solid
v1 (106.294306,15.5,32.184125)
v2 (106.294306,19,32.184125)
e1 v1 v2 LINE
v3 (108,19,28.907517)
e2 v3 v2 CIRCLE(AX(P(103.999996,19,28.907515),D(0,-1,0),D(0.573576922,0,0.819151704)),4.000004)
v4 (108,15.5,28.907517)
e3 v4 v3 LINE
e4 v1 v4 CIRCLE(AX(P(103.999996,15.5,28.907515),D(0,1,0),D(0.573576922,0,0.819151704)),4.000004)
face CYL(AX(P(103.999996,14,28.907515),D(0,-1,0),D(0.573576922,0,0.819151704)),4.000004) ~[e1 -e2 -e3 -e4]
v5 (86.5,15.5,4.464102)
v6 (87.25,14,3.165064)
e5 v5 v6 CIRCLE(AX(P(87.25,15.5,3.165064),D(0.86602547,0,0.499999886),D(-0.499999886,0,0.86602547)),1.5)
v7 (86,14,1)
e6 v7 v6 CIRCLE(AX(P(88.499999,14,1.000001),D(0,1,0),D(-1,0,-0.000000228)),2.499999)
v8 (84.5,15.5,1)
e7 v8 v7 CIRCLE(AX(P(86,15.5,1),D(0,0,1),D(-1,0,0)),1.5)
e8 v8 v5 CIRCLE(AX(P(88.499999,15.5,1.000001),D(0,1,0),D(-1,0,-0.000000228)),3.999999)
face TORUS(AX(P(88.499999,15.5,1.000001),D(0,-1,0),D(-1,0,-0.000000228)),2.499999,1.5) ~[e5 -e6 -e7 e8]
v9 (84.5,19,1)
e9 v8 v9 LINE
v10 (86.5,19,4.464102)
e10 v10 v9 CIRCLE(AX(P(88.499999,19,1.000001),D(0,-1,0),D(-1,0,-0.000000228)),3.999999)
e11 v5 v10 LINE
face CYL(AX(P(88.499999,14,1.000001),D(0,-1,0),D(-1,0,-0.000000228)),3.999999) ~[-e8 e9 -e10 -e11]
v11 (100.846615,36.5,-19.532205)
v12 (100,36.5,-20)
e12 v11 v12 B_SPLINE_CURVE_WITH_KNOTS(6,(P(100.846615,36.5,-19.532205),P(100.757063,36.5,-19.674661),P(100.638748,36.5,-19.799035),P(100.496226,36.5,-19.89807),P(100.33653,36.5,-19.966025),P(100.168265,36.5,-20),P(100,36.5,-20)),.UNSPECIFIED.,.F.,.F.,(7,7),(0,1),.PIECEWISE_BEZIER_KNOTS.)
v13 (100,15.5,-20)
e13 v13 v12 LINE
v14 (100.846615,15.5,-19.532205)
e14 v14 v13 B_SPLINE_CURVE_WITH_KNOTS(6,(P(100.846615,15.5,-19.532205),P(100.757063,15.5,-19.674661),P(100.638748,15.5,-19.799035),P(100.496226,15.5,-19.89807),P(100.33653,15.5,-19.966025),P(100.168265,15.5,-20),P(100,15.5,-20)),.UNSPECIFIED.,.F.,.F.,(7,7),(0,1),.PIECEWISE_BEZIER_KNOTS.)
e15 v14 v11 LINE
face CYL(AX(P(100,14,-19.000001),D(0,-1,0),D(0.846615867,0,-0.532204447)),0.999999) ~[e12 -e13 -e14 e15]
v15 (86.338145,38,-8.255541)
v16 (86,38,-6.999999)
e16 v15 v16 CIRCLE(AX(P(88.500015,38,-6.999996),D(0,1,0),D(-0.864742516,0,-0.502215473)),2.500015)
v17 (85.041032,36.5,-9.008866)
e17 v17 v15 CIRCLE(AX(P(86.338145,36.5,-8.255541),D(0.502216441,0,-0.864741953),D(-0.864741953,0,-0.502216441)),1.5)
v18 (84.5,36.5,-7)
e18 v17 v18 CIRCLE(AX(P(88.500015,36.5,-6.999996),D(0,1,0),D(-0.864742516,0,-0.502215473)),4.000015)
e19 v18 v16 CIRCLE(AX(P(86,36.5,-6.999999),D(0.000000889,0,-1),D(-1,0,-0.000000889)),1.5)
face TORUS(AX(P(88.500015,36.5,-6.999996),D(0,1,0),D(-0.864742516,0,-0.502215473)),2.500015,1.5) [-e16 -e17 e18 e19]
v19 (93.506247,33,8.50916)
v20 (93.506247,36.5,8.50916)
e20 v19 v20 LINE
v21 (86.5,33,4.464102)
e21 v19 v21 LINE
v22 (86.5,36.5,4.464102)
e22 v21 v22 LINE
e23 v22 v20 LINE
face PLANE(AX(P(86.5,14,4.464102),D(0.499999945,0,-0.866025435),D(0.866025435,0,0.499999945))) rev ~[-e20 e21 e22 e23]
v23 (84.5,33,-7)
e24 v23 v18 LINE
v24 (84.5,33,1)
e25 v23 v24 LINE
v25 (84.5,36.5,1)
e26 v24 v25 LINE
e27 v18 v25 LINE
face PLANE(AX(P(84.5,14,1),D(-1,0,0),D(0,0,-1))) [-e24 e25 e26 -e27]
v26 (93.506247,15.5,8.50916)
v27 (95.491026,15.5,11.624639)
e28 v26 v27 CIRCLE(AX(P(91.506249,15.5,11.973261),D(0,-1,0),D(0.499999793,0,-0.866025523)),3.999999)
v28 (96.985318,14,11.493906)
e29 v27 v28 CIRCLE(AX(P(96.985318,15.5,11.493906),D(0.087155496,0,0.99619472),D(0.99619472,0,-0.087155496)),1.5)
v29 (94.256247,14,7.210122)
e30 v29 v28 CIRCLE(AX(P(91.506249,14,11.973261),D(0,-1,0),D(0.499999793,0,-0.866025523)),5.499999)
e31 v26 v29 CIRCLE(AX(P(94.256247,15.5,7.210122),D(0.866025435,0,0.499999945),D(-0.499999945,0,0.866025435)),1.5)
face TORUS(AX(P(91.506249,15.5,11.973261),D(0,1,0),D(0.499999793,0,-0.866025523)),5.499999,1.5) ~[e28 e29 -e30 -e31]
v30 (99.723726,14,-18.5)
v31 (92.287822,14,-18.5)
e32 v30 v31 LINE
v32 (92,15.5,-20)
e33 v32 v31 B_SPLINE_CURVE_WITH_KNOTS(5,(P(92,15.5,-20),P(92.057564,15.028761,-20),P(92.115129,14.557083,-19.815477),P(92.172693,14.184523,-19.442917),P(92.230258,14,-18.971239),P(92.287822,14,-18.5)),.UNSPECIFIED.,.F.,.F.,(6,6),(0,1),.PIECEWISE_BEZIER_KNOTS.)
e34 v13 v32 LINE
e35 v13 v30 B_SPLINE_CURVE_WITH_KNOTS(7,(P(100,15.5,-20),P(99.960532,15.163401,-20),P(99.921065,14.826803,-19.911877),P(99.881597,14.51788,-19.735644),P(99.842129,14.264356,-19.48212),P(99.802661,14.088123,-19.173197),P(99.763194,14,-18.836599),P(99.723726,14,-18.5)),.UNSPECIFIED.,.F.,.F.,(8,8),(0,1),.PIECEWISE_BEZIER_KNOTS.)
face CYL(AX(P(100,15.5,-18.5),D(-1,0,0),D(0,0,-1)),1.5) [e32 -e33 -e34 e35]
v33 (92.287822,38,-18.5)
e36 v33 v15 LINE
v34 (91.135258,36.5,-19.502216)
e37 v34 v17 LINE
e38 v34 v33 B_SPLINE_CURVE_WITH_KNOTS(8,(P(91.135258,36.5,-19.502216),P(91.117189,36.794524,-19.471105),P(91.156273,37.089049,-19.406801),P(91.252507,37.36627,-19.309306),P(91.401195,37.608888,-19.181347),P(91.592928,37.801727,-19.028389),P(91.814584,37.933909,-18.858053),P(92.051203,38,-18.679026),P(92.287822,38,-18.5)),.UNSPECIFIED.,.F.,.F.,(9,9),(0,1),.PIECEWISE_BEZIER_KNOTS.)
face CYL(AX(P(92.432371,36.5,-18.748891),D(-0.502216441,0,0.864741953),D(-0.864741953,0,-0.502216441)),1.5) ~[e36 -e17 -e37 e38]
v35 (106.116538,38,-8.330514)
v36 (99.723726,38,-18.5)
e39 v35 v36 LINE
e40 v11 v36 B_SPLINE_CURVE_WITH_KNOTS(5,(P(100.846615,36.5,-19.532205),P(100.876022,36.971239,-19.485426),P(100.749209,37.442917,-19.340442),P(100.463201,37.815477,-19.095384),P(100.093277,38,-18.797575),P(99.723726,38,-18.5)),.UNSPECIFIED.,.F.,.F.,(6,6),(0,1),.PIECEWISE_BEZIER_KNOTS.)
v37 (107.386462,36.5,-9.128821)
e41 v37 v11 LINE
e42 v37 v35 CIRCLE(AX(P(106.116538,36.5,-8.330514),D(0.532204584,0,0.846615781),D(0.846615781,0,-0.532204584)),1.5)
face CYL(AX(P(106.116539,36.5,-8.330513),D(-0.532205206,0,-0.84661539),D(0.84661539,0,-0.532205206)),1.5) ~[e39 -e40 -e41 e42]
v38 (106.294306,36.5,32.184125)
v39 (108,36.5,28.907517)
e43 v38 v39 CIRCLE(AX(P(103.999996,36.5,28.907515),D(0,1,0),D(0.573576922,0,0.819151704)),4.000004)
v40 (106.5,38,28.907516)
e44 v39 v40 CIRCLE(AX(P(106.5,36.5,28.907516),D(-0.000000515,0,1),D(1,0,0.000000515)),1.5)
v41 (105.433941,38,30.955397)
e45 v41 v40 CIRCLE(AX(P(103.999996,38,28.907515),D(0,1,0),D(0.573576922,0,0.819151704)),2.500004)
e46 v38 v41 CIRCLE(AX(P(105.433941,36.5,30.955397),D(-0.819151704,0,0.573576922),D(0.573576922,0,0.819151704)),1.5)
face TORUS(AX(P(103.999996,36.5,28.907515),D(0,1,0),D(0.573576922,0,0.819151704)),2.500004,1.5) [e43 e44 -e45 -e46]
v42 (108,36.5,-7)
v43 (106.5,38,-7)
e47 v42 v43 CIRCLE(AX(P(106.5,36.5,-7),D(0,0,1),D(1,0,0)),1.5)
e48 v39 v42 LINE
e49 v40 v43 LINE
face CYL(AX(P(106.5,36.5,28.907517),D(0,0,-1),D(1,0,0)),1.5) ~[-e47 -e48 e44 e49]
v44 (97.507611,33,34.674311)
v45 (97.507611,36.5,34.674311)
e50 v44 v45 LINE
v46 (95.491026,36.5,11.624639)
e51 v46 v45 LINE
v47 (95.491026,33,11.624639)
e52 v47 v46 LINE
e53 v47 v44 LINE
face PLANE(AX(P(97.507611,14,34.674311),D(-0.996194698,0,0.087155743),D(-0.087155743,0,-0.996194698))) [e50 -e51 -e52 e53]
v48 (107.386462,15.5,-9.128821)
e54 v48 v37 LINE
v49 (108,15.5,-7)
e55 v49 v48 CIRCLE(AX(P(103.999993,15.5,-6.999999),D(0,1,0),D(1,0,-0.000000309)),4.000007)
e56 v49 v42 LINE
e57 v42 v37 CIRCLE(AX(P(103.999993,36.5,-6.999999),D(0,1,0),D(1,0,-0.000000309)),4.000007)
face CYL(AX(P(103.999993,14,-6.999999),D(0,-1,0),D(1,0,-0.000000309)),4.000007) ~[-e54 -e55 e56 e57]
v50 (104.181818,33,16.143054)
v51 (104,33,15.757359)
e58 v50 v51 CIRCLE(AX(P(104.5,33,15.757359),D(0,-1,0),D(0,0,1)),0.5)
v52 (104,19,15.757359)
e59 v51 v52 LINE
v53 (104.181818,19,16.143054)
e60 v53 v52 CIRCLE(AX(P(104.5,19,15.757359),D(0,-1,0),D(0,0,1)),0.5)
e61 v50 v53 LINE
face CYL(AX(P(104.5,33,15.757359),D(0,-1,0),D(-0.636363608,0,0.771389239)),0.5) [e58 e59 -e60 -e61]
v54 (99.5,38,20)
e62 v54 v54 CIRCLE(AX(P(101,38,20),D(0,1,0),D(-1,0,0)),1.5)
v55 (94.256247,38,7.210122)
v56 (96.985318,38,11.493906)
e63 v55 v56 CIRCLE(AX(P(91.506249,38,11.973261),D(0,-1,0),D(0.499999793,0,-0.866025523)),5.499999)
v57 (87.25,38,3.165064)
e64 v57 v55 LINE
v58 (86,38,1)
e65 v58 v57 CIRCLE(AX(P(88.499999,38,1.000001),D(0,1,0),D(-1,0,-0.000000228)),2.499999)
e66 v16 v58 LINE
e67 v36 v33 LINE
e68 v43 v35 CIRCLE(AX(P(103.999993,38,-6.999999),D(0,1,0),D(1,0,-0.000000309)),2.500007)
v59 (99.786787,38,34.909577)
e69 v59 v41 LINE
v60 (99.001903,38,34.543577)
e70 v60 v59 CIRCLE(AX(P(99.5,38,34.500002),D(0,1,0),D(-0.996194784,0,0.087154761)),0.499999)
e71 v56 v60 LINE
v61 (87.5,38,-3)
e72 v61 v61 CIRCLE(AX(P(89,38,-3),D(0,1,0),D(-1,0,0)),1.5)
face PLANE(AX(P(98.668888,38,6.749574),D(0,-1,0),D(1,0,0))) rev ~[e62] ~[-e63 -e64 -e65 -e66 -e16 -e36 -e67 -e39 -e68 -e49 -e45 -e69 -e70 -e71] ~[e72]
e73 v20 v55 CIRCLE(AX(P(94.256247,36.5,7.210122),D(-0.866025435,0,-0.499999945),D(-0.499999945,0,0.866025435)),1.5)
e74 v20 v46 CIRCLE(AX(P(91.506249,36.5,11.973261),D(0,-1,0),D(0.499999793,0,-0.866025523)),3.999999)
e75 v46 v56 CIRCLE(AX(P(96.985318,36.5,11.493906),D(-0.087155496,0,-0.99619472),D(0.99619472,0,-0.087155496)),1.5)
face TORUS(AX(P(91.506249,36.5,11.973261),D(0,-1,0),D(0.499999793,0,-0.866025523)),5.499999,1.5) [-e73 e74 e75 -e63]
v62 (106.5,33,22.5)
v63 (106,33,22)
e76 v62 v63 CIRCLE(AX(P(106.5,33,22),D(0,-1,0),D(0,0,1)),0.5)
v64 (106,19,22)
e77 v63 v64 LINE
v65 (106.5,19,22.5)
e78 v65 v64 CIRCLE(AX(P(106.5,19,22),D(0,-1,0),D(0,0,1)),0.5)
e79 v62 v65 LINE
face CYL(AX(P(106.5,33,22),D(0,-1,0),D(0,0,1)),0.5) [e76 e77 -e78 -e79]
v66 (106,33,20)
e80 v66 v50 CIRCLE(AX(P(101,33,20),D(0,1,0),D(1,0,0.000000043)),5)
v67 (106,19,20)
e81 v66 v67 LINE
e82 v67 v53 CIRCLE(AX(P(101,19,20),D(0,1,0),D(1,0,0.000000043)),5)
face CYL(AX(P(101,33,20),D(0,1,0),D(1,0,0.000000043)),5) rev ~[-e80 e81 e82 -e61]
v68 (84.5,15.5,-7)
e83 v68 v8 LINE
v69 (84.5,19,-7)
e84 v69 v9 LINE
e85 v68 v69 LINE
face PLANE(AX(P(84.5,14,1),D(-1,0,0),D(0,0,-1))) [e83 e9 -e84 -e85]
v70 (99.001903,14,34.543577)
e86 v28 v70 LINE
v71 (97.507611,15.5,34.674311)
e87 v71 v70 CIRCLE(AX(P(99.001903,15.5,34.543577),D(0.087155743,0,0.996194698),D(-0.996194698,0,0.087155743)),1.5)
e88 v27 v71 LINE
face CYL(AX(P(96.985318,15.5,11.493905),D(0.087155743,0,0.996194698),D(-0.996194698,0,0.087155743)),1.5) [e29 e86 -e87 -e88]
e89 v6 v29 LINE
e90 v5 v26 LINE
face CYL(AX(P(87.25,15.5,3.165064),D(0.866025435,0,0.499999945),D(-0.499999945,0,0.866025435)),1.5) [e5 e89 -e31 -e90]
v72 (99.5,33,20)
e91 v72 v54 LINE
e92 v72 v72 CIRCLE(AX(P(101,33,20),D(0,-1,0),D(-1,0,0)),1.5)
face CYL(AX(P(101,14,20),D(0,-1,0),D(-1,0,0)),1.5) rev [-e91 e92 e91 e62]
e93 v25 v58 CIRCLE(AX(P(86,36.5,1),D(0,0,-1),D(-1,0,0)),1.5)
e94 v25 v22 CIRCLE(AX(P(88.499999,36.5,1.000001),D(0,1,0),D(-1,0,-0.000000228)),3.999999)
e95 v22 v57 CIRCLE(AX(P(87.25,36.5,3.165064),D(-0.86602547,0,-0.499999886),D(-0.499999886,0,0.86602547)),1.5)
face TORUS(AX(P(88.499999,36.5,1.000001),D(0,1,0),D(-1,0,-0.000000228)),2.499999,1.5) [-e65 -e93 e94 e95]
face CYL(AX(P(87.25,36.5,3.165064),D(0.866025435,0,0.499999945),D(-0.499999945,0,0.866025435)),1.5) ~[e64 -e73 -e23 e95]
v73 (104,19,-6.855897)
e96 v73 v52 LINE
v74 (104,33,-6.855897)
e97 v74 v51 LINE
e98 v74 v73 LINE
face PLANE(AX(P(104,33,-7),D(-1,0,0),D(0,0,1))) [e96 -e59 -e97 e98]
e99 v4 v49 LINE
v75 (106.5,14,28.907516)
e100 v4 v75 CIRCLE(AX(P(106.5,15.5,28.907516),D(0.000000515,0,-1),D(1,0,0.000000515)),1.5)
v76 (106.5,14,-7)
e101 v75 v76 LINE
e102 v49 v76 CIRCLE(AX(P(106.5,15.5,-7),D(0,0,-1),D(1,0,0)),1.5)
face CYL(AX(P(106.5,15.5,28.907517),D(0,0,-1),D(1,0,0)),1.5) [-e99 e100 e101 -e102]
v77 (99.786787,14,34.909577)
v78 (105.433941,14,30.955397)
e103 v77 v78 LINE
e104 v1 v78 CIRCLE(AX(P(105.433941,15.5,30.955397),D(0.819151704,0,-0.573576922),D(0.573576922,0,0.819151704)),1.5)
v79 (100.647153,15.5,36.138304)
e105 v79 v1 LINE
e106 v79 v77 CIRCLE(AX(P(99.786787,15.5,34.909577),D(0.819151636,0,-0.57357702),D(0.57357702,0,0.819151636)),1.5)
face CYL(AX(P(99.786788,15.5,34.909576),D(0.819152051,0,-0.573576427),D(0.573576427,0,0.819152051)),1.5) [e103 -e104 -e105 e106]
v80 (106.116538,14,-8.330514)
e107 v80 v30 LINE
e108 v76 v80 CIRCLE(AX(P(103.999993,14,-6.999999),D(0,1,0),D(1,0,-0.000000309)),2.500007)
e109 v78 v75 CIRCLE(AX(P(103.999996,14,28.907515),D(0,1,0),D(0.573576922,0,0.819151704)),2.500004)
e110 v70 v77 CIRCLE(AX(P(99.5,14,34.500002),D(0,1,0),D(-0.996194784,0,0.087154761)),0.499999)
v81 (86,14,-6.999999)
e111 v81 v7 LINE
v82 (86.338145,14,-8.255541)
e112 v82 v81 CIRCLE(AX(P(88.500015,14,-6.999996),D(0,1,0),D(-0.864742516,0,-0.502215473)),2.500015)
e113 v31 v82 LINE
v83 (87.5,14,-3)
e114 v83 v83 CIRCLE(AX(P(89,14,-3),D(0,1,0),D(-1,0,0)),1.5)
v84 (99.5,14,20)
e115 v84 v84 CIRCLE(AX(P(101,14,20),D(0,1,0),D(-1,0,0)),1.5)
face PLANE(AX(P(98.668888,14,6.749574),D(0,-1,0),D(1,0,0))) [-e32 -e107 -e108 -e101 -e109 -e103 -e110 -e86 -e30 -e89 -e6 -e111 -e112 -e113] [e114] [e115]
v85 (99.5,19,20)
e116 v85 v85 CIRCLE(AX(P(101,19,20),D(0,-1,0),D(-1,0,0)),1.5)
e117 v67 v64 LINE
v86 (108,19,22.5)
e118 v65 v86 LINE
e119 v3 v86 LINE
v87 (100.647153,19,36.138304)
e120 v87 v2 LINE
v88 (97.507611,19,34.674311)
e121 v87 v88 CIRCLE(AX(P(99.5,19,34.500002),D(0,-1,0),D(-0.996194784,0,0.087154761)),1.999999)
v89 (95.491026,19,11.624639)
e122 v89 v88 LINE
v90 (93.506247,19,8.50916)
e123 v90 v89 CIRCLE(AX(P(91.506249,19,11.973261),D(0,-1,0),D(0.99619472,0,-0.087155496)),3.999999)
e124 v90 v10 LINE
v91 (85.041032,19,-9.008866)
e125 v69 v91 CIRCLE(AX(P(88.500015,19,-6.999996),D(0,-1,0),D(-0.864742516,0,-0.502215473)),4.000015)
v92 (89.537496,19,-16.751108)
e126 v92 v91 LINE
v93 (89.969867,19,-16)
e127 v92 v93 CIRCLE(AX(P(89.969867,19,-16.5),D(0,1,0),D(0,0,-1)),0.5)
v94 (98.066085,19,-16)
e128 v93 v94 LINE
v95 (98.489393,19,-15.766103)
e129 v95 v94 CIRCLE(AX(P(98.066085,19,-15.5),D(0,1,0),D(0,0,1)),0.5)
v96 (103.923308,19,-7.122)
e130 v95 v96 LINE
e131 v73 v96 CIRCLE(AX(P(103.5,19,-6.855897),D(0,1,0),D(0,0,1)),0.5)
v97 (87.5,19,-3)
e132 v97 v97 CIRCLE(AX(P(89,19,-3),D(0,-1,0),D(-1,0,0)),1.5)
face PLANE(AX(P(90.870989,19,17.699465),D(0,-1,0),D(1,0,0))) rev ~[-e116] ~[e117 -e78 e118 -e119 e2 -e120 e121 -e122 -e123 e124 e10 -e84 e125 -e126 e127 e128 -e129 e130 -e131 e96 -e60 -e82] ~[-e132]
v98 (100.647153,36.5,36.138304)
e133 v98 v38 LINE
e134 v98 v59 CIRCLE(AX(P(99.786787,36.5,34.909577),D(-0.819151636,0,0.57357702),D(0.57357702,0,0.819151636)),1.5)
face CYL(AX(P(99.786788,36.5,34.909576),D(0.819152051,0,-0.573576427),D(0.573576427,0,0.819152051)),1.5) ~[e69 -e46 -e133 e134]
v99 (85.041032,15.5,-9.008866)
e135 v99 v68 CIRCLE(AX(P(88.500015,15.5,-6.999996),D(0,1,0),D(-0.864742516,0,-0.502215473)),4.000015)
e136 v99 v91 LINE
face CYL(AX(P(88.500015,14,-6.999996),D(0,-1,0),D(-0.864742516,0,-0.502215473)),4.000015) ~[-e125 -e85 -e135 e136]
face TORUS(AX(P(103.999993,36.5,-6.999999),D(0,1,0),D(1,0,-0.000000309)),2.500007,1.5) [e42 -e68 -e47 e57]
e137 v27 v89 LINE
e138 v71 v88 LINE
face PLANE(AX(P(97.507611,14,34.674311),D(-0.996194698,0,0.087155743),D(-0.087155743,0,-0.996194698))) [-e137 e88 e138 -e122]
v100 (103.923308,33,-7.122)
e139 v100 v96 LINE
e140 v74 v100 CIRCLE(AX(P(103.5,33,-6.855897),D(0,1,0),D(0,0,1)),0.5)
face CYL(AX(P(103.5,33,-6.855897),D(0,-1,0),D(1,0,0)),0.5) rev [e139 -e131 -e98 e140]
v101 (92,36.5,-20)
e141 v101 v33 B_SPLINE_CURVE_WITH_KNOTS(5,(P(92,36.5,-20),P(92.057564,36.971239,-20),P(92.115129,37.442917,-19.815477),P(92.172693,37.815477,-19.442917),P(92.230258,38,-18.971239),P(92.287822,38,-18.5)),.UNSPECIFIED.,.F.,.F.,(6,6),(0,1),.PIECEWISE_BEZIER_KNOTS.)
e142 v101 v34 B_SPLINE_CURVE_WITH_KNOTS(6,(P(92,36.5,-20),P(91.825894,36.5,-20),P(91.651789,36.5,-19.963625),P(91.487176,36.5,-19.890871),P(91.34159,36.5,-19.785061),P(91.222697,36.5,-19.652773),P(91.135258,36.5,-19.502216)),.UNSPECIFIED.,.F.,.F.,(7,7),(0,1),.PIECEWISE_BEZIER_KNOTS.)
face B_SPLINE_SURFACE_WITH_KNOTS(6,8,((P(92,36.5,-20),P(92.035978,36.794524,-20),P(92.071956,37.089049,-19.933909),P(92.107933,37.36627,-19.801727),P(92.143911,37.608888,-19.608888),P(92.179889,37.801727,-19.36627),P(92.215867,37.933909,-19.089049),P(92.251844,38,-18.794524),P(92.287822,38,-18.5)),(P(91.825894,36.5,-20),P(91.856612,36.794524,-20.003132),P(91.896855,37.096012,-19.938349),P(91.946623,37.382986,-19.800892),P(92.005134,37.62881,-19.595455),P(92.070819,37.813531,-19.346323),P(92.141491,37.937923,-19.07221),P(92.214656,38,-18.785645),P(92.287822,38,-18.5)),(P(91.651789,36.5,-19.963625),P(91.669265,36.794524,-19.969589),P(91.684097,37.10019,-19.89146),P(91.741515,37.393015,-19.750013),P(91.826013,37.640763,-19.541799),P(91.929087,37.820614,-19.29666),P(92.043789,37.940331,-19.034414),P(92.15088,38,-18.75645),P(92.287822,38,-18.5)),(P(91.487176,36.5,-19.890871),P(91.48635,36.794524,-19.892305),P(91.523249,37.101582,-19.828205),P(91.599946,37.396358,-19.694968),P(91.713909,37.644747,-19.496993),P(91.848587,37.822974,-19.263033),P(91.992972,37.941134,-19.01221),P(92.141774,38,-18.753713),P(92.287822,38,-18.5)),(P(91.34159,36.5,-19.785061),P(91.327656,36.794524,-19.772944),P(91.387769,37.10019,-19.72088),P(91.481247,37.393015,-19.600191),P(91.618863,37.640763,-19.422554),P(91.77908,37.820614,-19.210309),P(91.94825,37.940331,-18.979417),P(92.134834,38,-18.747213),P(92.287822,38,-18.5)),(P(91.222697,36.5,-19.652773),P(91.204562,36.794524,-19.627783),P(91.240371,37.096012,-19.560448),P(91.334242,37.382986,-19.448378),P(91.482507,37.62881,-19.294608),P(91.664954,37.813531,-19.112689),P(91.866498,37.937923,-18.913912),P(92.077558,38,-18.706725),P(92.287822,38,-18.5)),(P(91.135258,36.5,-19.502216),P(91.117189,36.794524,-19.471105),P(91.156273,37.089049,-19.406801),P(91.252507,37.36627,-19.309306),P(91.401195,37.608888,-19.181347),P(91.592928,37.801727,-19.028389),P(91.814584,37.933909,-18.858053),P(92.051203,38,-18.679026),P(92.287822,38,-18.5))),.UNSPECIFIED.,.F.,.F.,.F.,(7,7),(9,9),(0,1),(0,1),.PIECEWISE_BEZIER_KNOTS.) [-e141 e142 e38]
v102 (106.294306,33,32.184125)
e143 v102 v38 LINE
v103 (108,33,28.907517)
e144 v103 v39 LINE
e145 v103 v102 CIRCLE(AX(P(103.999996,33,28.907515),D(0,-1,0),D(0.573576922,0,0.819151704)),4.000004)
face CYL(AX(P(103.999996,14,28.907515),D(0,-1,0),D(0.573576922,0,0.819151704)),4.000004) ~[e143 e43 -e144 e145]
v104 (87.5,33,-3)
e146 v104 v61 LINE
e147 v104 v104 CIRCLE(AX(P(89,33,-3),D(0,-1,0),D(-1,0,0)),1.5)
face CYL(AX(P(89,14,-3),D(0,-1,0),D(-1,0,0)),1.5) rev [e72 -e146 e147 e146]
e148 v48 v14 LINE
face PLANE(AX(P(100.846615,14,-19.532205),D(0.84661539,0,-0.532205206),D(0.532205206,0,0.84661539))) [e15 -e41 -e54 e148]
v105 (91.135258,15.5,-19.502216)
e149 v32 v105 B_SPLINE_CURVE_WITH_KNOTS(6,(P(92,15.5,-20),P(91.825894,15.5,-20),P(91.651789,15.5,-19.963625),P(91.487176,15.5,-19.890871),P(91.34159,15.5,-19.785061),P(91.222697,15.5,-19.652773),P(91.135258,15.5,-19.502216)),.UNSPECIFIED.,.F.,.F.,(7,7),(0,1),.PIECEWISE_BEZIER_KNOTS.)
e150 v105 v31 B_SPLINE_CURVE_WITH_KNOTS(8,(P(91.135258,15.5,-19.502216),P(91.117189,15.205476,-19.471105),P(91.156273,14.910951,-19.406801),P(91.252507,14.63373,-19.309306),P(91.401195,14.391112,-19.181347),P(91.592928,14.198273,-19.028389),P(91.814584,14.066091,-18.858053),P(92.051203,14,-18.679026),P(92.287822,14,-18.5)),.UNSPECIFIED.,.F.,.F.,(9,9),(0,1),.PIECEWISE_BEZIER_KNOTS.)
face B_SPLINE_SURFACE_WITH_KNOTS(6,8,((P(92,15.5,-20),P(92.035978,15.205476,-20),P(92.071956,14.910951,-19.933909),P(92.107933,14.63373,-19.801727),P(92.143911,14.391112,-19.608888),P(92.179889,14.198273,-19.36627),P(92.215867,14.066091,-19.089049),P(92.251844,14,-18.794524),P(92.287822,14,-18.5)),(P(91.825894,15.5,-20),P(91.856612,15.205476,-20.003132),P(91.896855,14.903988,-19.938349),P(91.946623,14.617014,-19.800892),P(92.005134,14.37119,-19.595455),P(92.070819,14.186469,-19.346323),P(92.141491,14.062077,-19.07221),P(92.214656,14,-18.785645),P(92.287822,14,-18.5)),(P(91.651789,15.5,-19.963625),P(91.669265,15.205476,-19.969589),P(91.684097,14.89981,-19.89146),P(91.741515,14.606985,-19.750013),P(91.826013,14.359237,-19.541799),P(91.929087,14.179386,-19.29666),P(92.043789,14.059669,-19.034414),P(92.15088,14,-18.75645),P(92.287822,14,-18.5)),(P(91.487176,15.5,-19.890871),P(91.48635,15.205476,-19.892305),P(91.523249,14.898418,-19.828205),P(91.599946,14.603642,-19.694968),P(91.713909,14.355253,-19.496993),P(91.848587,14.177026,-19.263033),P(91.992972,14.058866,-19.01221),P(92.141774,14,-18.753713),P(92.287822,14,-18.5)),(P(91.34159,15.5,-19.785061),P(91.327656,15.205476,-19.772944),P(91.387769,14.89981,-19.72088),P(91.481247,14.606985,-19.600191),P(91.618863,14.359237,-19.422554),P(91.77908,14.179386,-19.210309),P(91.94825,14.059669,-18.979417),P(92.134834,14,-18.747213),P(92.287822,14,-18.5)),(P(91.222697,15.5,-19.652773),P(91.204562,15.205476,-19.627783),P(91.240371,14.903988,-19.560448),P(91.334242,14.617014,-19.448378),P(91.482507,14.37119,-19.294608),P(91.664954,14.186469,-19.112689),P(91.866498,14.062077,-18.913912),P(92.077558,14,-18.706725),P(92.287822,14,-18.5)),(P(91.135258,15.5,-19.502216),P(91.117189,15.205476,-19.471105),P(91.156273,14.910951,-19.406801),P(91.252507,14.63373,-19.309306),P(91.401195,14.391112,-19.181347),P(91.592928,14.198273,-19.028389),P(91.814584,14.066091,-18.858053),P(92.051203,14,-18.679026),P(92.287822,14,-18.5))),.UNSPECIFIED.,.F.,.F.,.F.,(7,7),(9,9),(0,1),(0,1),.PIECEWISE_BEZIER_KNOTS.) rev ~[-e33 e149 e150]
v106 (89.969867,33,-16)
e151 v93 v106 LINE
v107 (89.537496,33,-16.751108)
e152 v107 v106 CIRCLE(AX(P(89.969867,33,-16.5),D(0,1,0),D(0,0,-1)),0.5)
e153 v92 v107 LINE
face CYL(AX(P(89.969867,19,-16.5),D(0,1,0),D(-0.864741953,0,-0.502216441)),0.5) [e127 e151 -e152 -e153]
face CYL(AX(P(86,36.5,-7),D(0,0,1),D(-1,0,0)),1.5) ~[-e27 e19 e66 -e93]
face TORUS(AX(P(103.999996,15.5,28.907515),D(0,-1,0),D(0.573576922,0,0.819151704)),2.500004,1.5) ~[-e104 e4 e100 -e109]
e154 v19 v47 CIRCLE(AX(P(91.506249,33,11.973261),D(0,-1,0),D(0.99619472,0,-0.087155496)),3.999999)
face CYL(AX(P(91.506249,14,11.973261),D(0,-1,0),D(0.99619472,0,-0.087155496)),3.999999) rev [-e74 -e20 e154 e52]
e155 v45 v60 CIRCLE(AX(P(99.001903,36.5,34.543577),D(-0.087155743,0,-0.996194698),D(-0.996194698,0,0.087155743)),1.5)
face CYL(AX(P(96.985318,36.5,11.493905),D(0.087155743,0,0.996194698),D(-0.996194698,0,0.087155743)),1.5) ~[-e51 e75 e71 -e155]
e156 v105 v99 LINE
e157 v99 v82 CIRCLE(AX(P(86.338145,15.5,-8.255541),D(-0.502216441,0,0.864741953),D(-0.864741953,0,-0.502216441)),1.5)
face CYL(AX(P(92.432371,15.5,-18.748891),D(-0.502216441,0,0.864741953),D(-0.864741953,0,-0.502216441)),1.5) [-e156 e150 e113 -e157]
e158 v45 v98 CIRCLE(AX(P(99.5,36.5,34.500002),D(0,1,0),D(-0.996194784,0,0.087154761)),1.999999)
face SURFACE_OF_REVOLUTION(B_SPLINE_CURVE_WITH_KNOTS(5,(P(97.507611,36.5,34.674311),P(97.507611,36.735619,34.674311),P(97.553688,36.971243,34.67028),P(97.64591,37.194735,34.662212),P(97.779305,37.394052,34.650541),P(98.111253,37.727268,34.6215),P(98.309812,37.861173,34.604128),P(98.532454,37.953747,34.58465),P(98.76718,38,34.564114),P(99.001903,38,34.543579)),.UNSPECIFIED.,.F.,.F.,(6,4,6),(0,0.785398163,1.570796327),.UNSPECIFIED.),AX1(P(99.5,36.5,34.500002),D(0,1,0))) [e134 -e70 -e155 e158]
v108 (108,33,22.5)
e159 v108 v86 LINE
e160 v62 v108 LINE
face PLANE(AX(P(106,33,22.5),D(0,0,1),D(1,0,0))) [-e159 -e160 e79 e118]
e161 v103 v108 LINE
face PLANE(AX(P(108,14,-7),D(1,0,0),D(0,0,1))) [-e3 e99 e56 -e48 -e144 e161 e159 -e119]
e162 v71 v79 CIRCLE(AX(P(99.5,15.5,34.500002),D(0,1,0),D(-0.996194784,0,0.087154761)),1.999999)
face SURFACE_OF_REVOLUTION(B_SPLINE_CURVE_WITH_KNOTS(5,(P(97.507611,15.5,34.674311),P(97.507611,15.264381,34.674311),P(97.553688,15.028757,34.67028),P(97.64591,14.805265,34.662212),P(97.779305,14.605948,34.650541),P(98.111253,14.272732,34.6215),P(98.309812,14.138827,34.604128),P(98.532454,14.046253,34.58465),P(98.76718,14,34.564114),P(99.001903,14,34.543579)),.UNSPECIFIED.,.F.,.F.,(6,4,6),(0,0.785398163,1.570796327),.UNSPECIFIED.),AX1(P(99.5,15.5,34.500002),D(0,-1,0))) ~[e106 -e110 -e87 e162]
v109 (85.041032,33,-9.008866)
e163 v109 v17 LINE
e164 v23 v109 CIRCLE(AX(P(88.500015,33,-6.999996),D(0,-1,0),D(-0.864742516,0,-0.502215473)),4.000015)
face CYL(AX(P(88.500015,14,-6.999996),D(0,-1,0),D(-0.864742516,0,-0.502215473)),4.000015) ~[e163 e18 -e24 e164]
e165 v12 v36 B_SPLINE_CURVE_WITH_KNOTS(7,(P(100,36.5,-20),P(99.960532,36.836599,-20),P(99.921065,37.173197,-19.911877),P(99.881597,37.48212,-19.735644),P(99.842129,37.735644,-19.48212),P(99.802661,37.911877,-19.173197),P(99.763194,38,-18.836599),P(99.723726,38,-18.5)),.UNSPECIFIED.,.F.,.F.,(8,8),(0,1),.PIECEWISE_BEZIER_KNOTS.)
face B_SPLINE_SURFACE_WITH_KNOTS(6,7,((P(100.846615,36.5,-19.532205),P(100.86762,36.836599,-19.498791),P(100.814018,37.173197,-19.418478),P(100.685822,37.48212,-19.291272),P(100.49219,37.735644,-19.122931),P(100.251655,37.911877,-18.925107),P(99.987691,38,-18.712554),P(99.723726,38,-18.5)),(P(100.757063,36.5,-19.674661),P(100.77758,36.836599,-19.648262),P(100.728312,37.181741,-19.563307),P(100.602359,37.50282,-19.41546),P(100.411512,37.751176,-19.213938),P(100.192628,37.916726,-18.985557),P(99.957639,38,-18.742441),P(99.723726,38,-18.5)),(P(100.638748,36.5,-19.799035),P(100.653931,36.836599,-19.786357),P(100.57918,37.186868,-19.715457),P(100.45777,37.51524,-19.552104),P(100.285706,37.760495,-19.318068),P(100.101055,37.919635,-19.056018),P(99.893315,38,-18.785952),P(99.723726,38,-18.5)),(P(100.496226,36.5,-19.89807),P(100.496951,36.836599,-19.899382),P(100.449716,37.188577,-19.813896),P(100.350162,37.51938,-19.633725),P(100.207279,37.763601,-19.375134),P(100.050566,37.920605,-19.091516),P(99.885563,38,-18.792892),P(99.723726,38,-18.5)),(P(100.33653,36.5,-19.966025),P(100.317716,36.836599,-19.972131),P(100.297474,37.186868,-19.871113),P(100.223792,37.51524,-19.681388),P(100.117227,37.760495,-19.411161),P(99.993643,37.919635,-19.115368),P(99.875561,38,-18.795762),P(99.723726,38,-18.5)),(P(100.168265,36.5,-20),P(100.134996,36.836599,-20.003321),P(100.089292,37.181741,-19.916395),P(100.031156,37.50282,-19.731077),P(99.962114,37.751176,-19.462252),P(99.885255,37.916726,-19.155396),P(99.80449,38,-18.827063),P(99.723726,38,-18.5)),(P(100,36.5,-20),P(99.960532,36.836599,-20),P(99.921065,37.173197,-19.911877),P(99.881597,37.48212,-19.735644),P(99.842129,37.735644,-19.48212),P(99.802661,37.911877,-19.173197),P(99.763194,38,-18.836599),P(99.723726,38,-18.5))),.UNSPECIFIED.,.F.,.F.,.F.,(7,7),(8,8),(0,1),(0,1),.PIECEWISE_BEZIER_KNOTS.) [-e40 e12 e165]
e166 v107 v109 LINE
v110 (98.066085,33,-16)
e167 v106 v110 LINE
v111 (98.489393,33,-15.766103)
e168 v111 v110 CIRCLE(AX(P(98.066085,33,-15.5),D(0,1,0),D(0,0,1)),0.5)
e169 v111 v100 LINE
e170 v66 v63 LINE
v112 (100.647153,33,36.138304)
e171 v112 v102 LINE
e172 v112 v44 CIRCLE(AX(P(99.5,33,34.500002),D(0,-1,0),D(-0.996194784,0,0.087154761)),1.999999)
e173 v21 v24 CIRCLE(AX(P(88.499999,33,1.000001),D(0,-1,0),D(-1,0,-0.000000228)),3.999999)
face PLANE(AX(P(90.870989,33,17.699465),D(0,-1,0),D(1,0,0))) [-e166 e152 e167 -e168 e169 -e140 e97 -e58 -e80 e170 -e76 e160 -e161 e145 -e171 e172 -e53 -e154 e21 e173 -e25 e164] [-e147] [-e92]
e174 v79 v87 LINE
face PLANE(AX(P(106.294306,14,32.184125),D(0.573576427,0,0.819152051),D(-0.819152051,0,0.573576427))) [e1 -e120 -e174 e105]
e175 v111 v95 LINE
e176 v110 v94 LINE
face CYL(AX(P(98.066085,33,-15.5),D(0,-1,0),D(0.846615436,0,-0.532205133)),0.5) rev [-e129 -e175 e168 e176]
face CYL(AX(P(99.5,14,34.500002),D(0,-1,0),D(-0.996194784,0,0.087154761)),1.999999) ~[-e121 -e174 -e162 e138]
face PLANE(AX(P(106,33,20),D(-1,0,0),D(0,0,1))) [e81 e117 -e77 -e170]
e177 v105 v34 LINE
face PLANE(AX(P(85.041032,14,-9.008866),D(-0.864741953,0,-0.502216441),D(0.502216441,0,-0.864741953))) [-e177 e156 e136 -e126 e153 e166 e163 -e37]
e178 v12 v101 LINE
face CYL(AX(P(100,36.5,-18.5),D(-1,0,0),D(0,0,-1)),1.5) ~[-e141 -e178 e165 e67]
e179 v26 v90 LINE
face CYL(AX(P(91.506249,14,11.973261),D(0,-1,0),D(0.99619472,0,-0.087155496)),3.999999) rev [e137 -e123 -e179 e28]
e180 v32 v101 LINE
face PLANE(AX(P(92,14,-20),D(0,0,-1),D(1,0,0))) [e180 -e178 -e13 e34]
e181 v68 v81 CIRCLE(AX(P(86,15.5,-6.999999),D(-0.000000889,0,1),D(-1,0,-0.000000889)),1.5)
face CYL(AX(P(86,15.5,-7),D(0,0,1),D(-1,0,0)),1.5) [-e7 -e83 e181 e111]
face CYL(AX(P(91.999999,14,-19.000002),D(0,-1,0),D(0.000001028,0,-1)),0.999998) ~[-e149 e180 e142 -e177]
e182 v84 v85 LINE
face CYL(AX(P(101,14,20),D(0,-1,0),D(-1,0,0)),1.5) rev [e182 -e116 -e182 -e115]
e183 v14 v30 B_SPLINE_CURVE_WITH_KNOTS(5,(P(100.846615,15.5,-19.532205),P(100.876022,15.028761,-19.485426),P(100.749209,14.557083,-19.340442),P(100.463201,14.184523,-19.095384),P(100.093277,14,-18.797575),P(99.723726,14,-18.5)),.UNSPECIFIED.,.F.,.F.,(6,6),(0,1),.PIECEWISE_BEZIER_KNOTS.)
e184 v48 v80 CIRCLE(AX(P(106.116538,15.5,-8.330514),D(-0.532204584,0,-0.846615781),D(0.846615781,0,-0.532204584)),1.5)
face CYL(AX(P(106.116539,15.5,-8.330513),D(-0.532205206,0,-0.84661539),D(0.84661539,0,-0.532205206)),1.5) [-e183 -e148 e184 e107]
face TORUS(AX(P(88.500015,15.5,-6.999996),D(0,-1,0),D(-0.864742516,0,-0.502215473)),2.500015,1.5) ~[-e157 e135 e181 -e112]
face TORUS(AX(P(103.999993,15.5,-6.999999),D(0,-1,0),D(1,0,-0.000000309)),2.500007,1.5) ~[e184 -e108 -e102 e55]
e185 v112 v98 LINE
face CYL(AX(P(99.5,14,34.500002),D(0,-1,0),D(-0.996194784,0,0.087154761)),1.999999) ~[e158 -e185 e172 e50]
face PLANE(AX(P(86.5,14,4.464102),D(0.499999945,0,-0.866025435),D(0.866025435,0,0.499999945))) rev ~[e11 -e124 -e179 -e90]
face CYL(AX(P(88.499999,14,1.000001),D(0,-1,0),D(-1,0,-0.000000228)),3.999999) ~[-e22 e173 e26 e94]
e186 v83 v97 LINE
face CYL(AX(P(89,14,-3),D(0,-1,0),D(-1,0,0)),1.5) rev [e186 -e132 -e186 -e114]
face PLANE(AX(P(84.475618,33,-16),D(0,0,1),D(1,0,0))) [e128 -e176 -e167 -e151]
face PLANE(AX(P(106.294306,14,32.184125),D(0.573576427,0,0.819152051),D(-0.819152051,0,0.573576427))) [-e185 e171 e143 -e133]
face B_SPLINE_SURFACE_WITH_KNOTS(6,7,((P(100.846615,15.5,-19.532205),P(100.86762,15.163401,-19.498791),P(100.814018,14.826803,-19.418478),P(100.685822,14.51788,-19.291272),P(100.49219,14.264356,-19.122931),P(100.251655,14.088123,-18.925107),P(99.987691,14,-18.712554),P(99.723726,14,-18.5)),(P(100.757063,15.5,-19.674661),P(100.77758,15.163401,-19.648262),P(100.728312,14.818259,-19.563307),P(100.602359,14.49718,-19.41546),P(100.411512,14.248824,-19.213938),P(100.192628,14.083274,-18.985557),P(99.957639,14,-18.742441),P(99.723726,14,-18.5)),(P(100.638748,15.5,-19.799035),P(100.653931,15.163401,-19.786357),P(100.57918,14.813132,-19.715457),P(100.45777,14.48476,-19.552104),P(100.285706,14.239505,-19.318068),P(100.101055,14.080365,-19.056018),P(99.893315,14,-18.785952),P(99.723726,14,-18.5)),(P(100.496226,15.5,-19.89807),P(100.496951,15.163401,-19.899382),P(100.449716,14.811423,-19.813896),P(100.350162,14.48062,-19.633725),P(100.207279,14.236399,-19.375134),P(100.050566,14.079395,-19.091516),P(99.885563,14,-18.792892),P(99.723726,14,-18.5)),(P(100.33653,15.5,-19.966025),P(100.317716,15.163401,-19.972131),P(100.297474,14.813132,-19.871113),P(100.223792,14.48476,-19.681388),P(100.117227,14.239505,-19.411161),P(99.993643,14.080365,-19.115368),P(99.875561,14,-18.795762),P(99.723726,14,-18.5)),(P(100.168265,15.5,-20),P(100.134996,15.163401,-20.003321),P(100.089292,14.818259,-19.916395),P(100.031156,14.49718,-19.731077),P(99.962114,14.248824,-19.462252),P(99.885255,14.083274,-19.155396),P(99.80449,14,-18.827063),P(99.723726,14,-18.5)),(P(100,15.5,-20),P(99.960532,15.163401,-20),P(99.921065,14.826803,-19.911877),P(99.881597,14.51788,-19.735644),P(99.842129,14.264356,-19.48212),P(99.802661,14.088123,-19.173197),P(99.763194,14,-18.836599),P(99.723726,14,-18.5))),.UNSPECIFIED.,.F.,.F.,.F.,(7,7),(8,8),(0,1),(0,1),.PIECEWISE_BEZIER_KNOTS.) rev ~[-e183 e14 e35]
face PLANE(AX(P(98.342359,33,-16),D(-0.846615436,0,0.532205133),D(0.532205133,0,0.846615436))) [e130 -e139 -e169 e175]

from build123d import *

# Parameters (mm, degrees)
SKETCH036_R              = 1.5
PAD021_DEPTH             = 24
FILLET007_R              = 1.5
POCKET013_DEPTH          = 14
FILLET008_R              = 0.5
CLONE169_PLACEMENT_ANGLE = 180


with BuildPart() as part:
    # Sketch036 → Pad021 (new body)
    with BuildSketch(Plane.XZ):
        with BuildLine():
            Line((-59.294306, 24.684125), (-53.647153, 28.638304))
            ThreePointArc((-50.507611, 27.174311), (-51.654763, 28.812616), (-53.647153, 28.638304))
            Line((-50.507611, 27.174311), (-48.491026, 4.124639))
            ThreePointArc((-48.491026, 4.124639), (-47.879813, 2.324063), (-46.506247, 1.00916))
            Line((-39.5, -3.035898), (-46.506247, 1.00916))
            ThreePointArc((-37.5, -6.5), (-38.035898, -4.5), (-39.5, -3.035898))
            Line((-37.5, -6.5), (-37.5, -14.5))
            ThreePointArc((-38.041032, -16.508866), (-37.637626, -15.540223), (-37.5, -14.5))
            Line((-38.041032, -16.508866), (-44.135258, -27.002216))
            ThreePointArc((-45, -27.5), (-44.501109, -27.366665), (-44.135258, -27.002216))
            Line((-45, -27.5), (-53, -27.5))
            ThreePointArc((-53.846615, -27.032205), (-53.483629, -27.375273), (-53, -27.5))
            Line((-53.846615, -27.032205), (-60.386462, -16.628821))
            ThreePointArc((-61, -14.5), (-60.843556, -15.607735), (-60.386462, -16.628821))
            Line((-61, -14.5), (-61, 21.407517))
            ThreePointArc((-59.294306, 24.684125), (-60.548043, 23.254511), (-61, 21.407517))
        make_face()
        with Locations((-54, 12.5)):
            Circle(SKETCH036_R, mode=Mode.SUBTRACT)
        with Locations((-42, -10.5)):
            Circle(SKETCH036_R, mode=Mode.SUBTRACT)
    extrude(amount=PAD021_DEPTH)

    # Fillet007
    fillet007_edges = [part.edges().sort_by_distance(p)[0] for p in [
        (-60.548043, 0, 23.254511),
        (-60.548043, -24, 23.254511),
    ]]
    fillet(fillet007_edges, radius=FILLET007_R)

    # Sketch037 (on Face12 of Fillet007) → Pocket013 (cut)
    with BuildSketch(Plane.XZ.offset(19)):
        with BuildLine():
            Line((-37.475618, -23.5), (-51.342359, -23.5))
            Line((-51.342359, -23.5), (-57, -14.5))
            Line((-57, -14.5), (-57, 8.5))
            ThreePointArc((-59, 12.5), (-58.472136, 10.263932), (-57, 8.5))
            Line((-59, 12.5), (-59, 15))
            Line((-59, 15), (-79, 15))
            Line((-79, 15), (-79, 35))
            Line((-79, 35), (-15.733307, 35))
            Line((-15.733307, 35), (-15.733307, -20.5))
            Line((-15.733307, -20.5), (-35.733307, -20.5))
            Line((-35.733307, -20.5), (-37.475618, -23.5))
        make_face()
    extrude(amount=-POCKET013_DEPTH, mode=Mode.SUBTRACT)

    # Fillet008
    fillet008_edges = [part.edges().sort_by_distance(p)[0] for p in [
        (-57, -12, 8.5),
        (-59, -12, 15),
        (-57, -12, -14.5),
        (-51.342359, -12, -23.5),
        (-42.101275, -12, -23.5),
    ]]
    fillet(fillet008_edges, radius=FILLET008_R)


with BuildPart() as part_1:
    # Body003 placement: moved
    add(part.part.moved(Location((0, 33, 0))))


with BuildPart() as part_2:
    # Clone169 placement: moved
    add(part_1.part.moved(Location((47, 47, 7.5))).rotate(Axis((47, 47, 7.5), (0, 0, 1)), CLONE169_PLACEMENT_ANGLE))


solid = part_2.part
